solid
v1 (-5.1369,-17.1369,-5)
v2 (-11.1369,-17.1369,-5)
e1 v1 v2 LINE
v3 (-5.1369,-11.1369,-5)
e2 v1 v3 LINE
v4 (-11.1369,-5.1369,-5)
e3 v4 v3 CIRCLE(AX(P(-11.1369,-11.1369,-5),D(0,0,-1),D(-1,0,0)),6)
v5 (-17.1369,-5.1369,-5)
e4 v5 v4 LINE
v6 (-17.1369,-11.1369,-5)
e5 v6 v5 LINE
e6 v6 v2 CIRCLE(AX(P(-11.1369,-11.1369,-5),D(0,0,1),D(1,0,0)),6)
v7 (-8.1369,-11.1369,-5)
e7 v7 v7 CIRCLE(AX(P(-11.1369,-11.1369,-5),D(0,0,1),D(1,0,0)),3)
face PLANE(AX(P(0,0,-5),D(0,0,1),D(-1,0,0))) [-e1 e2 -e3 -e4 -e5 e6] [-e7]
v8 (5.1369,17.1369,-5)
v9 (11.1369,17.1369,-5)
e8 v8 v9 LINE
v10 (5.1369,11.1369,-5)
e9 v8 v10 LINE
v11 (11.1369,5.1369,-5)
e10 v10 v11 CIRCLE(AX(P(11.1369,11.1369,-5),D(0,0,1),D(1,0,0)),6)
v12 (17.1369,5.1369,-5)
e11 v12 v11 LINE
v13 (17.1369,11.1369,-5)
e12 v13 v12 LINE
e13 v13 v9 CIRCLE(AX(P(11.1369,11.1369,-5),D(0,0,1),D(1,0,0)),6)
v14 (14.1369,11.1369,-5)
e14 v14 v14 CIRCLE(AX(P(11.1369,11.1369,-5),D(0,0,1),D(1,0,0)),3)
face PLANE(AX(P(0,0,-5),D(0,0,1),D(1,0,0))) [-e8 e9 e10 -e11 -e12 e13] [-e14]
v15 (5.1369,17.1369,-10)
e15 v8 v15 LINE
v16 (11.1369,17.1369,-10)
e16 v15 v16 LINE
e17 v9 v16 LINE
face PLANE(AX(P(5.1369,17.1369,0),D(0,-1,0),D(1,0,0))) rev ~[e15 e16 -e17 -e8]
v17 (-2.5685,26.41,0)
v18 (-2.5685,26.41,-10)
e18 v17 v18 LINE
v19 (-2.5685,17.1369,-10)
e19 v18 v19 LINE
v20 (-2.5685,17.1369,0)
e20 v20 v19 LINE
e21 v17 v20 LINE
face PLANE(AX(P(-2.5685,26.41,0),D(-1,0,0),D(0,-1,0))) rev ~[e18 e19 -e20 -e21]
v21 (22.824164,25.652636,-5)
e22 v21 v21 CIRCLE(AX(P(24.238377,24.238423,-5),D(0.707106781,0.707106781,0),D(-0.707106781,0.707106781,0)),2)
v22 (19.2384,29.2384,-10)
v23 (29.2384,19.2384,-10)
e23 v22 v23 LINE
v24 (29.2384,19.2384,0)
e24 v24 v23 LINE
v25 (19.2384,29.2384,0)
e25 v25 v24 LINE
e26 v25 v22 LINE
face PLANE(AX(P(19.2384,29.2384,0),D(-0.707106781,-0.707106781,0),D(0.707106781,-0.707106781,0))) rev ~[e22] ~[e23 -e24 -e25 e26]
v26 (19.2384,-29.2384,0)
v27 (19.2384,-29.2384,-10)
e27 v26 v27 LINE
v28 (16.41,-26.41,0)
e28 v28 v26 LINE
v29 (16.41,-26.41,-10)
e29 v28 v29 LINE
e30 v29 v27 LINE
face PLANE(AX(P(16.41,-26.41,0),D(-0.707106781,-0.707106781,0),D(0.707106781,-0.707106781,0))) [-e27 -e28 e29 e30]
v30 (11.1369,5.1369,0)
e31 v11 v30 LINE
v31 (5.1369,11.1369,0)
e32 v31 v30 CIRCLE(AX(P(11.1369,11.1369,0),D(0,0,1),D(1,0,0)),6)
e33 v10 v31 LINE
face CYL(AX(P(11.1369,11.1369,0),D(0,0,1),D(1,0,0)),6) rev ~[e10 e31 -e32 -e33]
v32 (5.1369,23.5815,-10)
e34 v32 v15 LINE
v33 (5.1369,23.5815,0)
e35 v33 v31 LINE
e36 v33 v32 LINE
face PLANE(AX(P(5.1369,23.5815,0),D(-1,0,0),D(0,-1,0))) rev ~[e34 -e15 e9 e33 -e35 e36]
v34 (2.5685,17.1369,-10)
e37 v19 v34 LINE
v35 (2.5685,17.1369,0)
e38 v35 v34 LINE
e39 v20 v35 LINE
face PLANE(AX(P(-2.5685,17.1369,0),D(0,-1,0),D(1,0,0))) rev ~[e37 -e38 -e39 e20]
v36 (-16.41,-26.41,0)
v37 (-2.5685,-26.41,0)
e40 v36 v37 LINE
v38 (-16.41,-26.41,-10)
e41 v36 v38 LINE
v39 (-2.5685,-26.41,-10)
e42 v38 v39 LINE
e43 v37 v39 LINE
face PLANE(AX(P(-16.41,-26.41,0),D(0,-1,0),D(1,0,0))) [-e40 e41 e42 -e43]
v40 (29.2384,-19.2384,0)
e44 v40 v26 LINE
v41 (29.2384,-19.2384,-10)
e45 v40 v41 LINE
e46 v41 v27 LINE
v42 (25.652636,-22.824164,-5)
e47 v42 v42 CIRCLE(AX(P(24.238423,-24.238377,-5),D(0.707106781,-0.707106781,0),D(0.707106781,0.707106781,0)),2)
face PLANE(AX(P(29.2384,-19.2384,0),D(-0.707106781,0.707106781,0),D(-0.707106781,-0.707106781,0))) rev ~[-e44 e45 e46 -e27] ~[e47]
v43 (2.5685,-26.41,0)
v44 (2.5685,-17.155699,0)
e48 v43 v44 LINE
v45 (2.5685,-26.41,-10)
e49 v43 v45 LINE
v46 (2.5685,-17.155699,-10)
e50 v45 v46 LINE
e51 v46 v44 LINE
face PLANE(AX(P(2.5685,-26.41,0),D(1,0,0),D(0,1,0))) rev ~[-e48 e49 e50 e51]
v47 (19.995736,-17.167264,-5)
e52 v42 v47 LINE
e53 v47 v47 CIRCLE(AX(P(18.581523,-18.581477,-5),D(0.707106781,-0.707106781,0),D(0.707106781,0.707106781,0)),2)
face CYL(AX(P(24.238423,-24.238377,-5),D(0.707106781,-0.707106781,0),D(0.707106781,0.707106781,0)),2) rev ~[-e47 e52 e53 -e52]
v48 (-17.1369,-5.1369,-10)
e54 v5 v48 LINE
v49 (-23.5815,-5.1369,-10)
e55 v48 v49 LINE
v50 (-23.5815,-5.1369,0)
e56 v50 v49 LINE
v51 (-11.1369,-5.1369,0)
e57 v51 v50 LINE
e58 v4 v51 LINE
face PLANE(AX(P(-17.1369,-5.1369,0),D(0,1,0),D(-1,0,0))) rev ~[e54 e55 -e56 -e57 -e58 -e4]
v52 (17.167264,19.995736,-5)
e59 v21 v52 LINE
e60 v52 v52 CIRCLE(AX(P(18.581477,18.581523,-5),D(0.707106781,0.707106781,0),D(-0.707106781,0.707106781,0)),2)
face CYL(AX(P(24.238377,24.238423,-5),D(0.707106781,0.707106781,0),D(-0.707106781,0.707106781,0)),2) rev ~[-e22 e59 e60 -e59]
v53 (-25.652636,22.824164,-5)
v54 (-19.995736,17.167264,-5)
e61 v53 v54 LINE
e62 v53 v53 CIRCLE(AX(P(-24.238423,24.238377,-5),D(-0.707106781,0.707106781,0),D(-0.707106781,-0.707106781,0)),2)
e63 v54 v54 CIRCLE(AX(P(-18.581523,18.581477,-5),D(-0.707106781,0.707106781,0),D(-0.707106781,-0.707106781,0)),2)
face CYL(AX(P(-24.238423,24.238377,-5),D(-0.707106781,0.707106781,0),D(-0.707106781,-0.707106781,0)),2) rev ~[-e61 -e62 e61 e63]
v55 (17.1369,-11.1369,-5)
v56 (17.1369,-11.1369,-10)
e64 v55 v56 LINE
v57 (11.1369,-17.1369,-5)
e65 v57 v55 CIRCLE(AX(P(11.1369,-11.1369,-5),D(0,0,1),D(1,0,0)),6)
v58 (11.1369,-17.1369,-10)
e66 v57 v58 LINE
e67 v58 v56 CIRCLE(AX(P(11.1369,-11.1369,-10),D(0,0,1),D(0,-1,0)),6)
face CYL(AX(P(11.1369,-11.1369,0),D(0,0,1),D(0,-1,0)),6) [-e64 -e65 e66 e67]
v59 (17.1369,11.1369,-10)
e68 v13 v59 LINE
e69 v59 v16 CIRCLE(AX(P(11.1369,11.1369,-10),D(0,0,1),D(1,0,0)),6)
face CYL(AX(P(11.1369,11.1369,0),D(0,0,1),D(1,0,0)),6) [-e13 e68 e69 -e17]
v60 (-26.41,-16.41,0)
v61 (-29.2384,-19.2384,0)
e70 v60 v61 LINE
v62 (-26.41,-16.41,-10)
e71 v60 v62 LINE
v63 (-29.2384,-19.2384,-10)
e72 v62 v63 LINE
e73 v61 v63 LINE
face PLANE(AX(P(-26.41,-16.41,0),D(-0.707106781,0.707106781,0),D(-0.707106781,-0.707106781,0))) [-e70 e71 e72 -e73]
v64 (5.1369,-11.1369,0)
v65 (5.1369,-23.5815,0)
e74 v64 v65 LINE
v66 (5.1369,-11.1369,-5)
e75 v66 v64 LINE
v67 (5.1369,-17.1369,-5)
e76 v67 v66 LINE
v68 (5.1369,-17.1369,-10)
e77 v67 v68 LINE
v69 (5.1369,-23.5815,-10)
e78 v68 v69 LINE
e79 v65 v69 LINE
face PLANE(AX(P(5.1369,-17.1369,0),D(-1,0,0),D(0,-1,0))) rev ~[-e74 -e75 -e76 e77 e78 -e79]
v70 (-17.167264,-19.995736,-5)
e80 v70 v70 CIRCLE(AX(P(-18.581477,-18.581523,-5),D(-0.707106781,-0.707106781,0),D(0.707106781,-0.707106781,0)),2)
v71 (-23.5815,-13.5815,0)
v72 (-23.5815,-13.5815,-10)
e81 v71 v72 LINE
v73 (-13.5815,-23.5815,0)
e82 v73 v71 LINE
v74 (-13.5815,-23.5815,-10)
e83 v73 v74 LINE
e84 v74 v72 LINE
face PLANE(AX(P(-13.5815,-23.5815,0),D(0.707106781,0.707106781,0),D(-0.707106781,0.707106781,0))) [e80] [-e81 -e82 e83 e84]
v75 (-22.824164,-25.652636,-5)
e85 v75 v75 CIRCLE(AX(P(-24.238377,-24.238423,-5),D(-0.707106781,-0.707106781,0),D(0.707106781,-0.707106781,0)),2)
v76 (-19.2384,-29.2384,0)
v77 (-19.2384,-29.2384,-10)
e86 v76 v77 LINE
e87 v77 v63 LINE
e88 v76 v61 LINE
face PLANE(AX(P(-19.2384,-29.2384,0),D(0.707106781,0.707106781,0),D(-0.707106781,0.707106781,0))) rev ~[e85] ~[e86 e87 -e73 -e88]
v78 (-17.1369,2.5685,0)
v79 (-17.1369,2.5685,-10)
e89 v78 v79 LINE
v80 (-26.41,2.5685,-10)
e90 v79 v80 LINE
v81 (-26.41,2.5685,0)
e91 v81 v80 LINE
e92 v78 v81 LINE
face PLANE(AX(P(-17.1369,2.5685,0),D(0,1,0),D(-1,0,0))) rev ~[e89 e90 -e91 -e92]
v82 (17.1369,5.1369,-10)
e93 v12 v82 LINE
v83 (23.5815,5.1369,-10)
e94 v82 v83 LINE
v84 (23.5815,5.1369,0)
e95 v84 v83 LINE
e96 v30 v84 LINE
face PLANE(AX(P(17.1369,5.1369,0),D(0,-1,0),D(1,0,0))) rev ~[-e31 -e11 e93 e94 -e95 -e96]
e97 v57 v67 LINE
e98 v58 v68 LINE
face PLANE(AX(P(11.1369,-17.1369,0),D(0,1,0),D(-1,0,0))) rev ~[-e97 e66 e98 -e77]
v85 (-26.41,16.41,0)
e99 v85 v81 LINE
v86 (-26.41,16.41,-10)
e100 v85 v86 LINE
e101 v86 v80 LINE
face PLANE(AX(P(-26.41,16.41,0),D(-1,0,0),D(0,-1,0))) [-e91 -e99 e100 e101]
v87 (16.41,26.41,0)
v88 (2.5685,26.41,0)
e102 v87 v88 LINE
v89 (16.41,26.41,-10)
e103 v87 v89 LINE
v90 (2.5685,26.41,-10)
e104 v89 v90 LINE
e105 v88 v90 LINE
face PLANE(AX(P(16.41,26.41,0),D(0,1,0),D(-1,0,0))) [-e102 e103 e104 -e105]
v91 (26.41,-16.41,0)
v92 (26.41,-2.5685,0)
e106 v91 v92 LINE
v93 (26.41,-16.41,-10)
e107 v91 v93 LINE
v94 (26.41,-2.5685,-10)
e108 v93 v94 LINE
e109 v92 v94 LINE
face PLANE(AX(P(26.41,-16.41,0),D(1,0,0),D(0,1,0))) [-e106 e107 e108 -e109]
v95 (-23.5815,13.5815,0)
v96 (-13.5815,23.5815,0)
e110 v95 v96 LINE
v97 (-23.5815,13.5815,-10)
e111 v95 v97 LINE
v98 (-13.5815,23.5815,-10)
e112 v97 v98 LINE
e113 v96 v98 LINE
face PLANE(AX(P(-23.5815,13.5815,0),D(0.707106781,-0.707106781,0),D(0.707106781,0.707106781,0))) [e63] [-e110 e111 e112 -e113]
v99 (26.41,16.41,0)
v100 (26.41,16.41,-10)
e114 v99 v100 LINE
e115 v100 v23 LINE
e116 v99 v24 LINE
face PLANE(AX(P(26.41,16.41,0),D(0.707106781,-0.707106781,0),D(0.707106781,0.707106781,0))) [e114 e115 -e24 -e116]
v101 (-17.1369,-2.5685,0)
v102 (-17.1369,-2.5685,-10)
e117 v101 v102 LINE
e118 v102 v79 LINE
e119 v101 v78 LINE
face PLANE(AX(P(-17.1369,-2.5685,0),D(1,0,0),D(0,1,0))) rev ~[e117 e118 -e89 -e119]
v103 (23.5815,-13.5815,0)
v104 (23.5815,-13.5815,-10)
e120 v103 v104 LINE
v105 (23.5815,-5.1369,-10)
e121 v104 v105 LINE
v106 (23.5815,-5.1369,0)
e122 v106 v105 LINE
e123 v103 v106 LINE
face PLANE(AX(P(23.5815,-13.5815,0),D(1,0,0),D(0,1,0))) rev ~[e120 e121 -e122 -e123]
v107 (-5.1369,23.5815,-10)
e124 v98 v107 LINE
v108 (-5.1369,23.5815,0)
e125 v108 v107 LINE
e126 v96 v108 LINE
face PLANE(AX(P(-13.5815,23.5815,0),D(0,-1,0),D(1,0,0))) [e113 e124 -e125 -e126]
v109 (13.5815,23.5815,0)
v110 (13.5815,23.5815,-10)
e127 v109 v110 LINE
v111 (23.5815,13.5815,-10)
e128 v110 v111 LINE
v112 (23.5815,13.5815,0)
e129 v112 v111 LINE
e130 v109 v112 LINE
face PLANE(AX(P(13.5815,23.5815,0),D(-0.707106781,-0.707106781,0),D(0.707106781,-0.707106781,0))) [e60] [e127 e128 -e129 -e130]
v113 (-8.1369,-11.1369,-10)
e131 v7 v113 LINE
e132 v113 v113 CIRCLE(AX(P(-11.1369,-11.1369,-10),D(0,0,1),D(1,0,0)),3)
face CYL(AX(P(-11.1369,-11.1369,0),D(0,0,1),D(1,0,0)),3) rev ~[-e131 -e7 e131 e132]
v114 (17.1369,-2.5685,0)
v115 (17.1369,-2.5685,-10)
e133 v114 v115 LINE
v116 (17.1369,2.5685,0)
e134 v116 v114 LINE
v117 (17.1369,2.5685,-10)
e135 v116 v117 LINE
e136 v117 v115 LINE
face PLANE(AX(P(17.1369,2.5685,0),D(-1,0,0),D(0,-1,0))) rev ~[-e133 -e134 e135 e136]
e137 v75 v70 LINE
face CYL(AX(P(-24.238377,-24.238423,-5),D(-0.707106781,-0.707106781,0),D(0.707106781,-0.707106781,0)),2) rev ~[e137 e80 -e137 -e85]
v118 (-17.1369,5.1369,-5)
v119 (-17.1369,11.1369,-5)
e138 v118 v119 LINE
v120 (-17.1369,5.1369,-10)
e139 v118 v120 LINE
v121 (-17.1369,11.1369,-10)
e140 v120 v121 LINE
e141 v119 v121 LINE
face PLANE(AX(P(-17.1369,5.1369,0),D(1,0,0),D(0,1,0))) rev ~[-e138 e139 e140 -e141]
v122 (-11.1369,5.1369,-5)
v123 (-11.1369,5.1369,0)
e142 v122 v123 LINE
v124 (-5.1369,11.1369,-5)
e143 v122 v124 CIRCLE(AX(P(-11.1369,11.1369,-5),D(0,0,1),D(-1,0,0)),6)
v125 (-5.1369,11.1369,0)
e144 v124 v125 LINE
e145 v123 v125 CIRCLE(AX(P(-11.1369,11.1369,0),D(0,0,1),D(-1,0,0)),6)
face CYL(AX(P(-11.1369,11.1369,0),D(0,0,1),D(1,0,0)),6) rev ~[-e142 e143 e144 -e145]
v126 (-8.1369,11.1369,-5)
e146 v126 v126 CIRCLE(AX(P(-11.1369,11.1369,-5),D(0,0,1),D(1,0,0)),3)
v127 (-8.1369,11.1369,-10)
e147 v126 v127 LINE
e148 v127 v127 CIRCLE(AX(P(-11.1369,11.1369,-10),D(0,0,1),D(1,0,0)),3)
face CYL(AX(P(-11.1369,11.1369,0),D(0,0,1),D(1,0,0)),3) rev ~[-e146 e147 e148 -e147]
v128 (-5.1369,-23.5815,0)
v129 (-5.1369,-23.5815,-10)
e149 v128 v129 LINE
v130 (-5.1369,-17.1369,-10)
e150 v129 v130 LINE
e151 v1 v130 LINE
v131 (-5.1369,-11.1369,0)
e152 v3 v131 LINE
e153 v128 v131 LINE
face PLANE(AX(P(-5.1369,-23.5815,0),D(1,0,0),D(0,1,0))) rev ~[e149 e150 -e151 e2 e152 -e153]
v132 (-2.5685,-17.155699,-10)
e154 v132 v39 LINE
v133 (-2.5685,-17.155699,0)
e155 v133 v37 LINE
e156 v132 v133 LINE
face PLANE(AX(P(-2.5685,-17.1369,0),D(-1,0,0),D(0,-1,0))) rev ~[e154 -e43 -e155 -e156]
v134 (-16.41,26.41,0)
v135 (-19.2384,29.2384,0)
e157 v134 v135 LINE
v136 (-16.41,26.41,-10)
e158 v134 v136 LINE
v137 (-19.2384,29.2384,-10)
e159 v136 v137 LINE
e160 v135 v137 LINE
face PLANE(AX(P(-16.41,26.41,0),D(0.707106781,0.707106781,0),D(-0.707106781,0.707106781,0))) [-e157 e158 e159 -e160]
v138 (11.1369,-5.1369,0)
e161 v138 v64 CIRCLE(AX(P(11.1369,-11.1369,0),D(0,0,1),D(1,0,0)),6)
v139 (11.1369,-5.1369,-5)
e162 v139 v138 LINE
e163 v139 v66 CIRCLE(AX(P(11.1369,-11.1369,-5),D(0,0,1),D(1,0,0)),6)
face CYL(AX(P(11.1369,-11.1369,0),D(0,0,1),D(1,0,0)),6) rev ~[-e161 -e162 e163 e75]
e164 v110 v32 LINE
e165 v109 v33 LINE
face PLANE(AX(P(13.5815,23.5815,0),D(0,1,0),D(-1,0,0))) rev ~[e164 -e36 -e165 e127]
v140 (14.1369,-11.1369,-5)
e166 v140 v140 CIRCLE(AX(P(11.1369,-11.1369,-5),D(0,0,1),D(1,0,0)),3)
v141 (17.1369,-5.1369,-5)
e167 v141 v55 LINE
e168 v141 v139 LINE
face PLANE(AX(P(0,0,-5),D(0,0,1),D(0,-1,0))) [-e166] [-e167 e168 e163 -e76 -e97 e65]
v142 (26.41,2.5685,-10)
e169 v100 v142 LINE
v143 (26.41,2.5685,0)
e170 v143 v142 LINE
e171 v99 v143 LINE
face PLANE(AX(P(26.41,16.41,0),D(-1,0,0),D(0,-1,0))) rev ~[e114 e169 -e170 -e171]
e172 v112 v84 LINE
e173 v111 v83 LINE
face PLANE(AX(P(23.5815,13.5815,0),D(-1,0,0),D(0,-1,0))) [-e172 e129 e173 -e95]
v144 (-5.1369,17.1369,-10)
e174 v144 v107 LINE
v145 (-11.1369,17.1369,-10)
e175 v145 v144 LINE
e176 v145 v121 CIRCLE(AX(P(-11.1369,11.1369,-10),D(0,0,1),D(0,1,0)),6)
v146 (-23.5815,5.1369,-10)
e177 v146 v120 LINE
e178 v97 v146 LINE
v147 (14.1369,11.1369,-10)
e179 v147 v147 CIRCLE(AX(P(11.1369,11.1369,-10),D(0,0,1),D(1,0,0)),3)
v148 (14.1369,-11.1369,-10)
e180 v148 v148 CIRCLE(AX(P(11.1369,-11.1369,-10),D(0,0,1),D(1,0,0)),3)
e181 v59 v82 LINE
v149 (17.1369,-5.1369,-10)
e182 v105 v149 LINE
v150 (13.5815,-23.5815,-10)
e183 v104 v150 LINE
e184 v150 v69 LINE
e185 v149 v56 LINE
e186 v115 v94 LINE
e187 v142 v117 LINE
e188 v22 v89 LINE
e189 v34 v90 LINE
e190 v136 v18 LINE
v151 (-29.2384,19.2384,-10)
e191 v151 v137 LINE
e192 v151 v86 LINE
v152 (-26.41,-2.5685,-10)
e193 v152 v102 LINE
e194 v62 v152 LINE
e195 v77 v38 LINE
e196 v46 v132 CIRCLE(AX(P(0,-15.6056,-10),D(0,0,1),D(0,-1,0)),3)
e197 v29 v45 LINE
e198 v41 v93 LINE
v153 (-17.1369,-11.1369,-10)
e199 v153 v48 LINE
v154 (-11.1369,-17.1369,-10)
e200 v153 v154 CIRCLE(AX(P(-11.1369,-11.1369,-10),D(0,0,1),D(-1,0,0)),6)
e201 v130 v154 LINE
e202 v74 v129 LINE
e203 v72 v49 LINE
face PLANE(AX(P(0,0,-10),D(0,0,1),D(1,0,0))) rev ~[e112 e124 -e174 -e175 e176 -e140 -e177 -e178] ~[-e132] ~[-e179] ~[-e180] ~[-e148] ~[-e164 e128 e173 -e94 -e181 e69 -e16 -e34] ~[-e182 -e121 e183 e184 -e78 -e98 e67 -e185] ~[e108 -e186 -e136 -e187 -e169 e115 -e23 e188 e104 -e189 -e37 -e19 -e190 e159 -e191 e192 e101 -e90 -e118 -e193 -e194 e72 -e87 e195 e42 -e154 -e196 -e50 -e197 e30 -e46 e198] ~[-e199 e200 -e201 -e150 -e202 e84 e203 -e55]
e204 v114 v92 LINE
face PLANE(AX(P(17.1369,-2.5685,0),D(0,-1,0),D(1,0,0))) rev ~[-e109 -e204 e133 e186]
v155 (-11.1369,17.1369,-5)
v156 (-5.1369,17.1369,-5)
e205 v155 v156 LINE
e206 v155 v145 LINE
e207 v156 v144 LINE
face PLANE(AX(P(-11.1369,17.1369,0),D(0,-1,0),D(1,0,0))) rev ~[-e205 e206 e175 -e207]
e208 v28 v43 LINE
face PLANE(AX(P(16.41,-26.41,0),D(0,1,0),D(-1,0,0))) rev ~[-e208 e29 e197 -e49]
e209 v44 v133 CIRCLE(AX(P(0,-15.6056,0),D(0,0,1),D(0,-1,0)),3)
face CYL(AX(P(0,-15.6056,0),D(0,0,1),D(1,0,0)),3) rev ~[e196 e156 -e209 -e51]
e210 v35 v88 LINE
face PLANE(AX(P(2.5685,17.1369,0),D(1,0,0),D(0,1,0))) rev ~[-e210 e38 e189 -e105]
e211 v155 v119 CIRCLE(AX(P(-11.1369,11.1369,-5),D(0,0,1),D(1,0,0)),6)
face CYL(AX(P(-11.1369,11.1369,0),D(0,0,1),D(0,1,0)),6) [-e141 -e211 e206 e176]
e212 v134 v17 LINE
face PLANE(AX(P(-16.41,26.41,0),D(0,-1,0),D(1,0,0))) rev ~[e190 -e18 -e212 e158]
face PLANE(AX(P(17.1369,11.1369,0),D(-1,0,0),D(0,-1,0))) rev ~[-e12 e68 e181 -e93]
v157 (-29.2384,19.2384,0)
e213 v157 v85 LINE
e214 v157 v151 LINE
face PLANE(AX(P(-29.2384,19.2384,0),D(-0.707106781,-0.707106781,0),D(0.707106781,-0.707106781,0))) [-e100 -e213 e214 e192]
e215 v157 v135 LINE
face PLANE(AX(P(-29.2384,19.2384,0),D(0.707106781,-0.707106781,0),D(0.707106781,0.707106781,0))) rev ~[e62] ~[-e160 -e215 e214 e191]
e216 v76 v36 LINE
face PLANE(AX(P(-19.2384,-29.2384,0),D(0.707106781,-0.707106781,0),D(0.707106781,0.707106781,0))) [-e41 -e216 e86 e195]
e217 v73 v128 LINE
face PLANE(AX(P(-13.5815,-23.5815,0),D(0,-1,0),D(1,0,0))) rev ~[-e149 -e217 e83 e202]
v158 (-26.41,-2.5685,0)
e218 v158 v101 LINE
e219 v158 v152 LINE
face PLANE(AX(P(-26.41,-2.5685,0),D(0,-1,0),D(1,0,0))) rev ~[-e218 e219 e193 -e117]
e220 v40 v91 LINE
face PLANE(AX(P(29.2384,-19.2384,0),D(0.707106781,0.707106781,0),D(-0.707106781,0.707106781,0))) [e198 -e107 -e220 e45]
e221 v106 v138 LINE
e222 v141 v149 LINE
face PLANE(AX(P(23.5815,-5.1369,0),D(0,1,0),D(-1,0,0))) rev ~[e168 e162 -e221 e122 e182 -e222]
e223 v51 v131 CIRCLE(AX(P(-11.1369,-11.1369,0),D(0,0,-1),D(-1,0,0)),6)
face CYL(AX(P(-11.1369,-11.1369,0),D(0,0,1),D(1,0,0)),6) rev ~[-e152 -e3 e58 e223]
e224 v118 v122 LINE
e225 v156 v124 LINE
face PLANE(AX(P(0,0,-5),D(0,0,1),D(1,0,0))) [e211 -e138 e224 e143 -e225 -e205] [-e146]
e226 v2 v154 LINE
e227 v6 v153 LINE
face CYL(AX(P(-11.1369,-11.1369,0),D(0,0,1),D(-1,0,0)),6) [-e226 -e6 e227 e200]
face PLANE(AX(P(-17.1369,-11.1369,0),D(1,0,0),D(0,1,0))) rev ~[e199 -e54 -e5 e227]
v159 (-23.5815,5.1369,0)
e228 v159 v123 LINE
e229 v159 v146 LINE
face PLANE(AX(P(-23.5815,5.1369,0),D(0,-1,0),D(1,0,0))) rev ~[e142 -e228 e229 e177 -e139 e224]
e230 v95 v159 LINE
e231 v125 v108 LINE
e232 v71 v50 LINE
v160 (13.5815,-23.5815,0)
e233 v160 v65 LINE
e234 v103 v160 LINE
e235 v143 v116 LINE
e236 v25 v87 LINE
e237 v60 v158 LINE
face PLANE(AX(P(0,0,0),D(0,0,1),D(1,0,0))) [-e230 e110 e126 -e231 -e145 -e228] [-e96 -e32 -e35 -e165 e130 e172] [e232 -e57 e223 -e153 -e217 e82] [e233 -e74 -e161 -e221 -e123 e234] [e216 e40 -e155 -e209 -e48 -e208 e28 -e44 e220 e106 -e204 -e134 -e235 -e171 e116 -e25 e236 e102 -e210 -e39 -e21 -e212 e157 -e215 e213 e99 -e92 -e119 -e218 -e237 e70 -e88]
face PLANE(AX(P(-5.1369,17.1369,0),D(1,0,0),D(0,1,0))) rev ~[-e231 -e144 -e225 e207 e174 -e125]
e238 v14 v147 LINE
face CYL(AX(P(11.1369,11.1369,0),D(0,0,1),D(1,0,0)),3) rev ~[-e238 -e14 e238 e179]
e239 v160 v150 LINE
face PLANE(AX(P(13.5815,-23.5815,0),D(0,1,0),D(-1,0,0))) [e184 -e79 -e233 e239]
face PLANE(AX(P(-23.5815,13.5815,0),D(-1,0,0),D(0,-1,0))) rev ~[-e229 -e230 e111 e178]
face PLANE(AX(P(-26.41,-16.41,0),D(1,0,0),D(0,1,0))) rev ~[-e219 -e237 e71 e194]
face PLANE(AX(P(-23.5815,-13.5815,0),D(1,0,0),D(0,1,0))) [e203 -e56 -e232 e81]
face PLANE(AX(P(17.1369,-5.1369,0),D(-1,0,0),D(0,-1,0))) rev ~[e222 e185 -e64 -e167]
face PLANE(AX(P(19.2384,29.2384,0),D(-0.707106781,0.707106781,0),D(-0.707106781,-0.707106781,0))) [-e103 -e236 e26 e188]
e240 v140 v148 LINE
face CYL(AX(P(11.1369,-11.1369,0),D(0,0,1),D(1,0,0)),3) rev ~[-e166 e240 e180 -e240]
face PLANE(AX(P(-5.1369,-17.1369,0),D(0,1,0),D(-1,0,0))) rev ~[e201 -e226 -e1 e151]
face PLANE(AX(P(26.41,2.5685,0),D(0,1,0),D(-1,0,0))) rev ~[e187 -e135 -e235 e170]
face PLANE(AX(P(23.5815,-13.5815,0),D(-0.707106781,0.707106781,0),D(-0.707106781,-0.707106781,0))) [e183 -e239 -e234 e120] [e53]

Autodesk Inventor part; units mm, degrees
ref_plane "YZ Plane" through (0, 0, 0) normal (1, 0, 0) x (0, 1, 0)
ref_plane "XZ Plane" through (0, 0, 0) normal (0, 1, 0) x (-1, 0, 0)
ref_plane "XY Plane" through (0, 0, 0) normal (0, 0, 1) x (1, 0, 0)
sketch "Sketch1" plane through (0, 0, 0) normal (0, 0, 1) x (1, 0, 0)
  line L0 (-11.1369, 11.1369) -> (11.1369, 11.1369) construction
  line L1 (11.1369, 11.1369) -> (11.1369, -11.1369) construction
  line L2 (11.1369, -11.1369) -> (-11.1369, -11.1369) construction
  line L3 (-11.1369, -11.1369) -> (-11.1369, 11.1369) construction
  line L4 (-11.1369, 11.1369) -> (11.1369, -11.1369) construction
  line L5 (11.1369, 11.1369) -> (-11.1369, -11.1369) construction
  circle A0 centre (-11.1369, 11.1369) radius 3
  circle A1 centre (11.1369, 11.1369) radius 3
  circle A2 centre (-11.1369, -11.1369) radius 3
  circle A3 centre (0, -15.6056) radius 3
  circle A4 centre (11.1369, -11.1369) radius 3
  line L6 (-11.1369, -11.1369) -> (0, -15.6056) construction
  line L7 (0, -15.6056) -> (11.1369, -11.1369) construction
  line L8 (0, 0) -> (0, 30.7503) construction
  circle A5 centre (-11.1369, 11.1369) radius 6
  circle A6 centre (-11.1369, -11.1369) radius 6
  circle A7 centre (11.1369, -11.1369) radius 6
  circle A8 centre (11.1369, 11.1369) radius 6
  line L9 (-19.2384, -29.2384) -> (19.2384, -29.2384)
  line L10 (29.2384, -19.2384) -> (29.2384, 19.2384)
  line L11 (19.2384, 29.2384) -> (-19.2384, 29.2384)
  line L12 (-29.2384, 19.2384) -> (-29.2384, -19.2384)
  line L13 (-29.2384, -29.2384) -> (29.2384, 29.2384) construction
  line L14 (29.2384, -29.2384) -> (-29.2384, 29.2384) construction
  line L15 (-29.2384, 19.2384) -> (-19.2384, 29.2384)
  line L16 (19.2384, 29.2384) -> (29.2384, 19.2384)
  line L17 (29.2384, -19.2384) -> (19.2384, -29.2384)
  line L18 (-19.2384, -29.2384) -> (-29.2384, -19.2384)
  circle A9 centre (0, 0) radius 35 construction
  point P0 (0, 0)
  point P1 (25, 0)
  point P2 (0, 0)
  dimension "d31" = 70
  dimension "d2" = 31.5
  dimension "d4" = 6
  dimension "d5" = 6
  dimension "d6" = 12
  dimension "d18" = 12
  dimension "d21" = 10
  dimension "d22" = 10
  dimension "d23" = 10
  dimension "d24" = 10
  dimension "d25" = 10
  dimension "d26" = 10
  dimension "d27" = 10
  dimension "d28" = 10
extrude "Extrusion1" add sketch "Sketch1" against normal blind 10 contours A5 | A6 | A7 | A8 | L18 L12 L15 L11 L16 L10 L17 L9
extrude "Extrusion3" cut sketch "Sketch1" against normal blind 5 contours A0 | A1 | A2 | A4 | A5 | A6 | A7 | A8
sketch "Sketch3" plane through (0, 0, 0) normal (0, 0, 1) x (1, 0, 0)
  circle A0 centre (-11.1369, -11.1369) radius 6 projected
  circle A1 centre (11.1369, -11.1369) radius 6 projected
  circle A2 centre (-11.1369, 11.1369) radius 6 projected
  circle A3 centre (11.1369, 11.1369) radius 6 projected
  line L0 (-29.2384, -19.2384) -> (-19.2384, -29.2384) projected
  line L1 (-19.2384, -29.2384) -> (19.2384, -29.2384) projected
  line L2 (19.2384, -29.2384) -> (29.2384, -19.2384) projected
  line L3 (29.2384, -19.2384) -> (29.2384, 19.2384) projected
  line L4 (29.2384, 19.2384) -> (19.2384, 29.2384) projected
  line L5 (19.2384, 29.2384) -> (-19.2384, 29.2384) projected
  line L6 (-19.2384, 29.2384) -> (-29.2384, 19.2384) projected
  line L7 (-29.2384, 19.2384) -> (-29.2384, -19.2384) projected
  circle A4 centre (0, -15.6056) radius 3 projected
  line L8 (19.2384, 29.2384) -> (16.41, 26.41)
  line L9 (13.5815, 23.5815) -> (23.5815, 13.5815)
  line L10 (23.5815, 13.5815) -> (26.41, 16.41) construction
  line L11 (29.2384, 19.2384) -> (29.2384, -19.2384) projected
  line L12 (29.2384, 19.2384) -> (19.2384, 29.2384) projected
  line L13 (23.5815, 13.5815) -> (23.5815, 5.1369)
  circle A5 centre (11.1369, 11.1369) radius 6 projected
  line L14 (26.41, 16.41) -> (26.41, 2.5685)
  line L15 (26.41, 16.41) -> (29.2384, 19.2384)
  line L16 (17.1369, 11.1369) -> (17.1369, 5.1369)
  line L17 (17.1369, 5.1369) -> (23.5815, 5.1369)
  line L18 (0, 0) -> (17.1369, 0) construction
  line L19 (16.41, 26.41) -> (2.5685, 26.41)
  line L20 (0, 17.1369) -> (0, 0) construction
  line L21 (16.41, 26.41) -> (13.5815, 23.5815) construction
  line L22 (13.5815, 23.5815) -> (5.1369, 23.5815)
  line L23 (5.1369, 23.5815) -> (5.1369, 17.1369)
  line L24 (5.1369, 17.1369) -> (11.1369, 17.1369)
  circle A6 centre (11.1369, 11.1369) radius 6 projected
  line L25 (0, 17.1369) -> (0, 29.2384)
  line L26 (19.2384, 29.2384) -> (-19.2384, 29.2384) projected
  line L27 (17.1369, 0) -> (29.2384, 0)
  line L28 (2.5685, 17.1369) -> (2.5685, 26.41)
  line L29 (0, 17.1369) -> (2.5685, 17.1369)
  line L30 (2.5685, 17.1369) -> (5.1369, 17.1369) construction
  line L31 (26.41, 2.5685) -> (17.1369, 2.5685)
  line L32 (17.1369, 2.5685) -> (17.1369, 0)
  line L33 (17.1369, 2.5685) -> (17.1369, 5.1369) construction
  dimension "d38" = 8
extrude "Extrusion5" cut sketch "Sketch3" against normal through all contours A3 L24 L23 L22 L9 L13 L17 L16 | L5 L8 L19 L28 L29 L25 | L27 L32 L31 L14 L15 L3
sketch "Sketch4" plane through (0, 0, -5) normal (0, 0, 1) x (1, 0, 0)
  circle A0 centre (11.1369, 11.1369) radius 3 projected
  arc A1 (11.1369, 17.1369) -> (17.1369, 11.1369) centre (11.1369, 11.1369) ccw projected
  arc A2 (17.1369, 11.1369) -> (11.1369, 17.1369) centre (11.1369, 11.1369) ccw projected
  line L0 (17.1369, 11.1369) -> (17.1369, 5.1369) projected
  line L1 (17.1369, 5.1369) -> (17.1369, 11.1369) projected
  line L2 (5.1369, 17.1369) -> (11.1369, 17.1369) projected
  line L3 (11.1369, 17.1369) -> (5.1369, 17.1369) projected
  line L4 (17.1369, 5.1369) -> (11.1369, 5.1369)
  line L5 (5.1369, 17.1369) -> (11.1369, 17.1369) projected
  line L6 (5.1369, 17.1369) -> (5.1369, 11.1369)
  point P0 (0, 0)
extrude "Extrusion6" cut sketch "Sketch4" along normal through all contours A1 L6 L2 | L0 L4 A1
pattern_circular "Circular Pattern2" count 4 over 360 about axis through (0, 0, -10) along (0, 0, 1) of "Extrusion5", "Extrusion6"
sketch "Sketch2" plane through (29.2384, 19.2384, -10) normal (0.7071, 0.7071, 0) x (-0.7071, 0.7071, 0)
  line L0 (0, 10) -> (0, 0) construction
  line L1 (14.1421, 0) -> (0, 0) construction
  line L2 (14.1421, 10) -> (14.1421, 0) construction
  line L3 (0, 10) -> (14.1421, 10) construction
  line L4 (14.1421, 10) -> (0, 0) construction
  circle A0 centre (7.0711, 5) radius 2
  point P0 (7.0711, 10)
  dimension "d32" = 4
extrude "Extrusion4" cut sketch "Sketch2" against normal up to next
pattern_circular "Circular Pattern1" count 4 over 360 about axis through (0, 0, -10) along (0, 0, 1) of "Extrusion4"
equation "\"d22\" = d21"
equation "\"d23\" = d21"
equation "\"d24\" = d23"
equation "\"d25\" = d21"
equation "\"d26\" = d25"
equation "\"d27\" = d21"
equation "\"d28\" = d27"
properties part number "Interface Block" material "ABS Plastic"
